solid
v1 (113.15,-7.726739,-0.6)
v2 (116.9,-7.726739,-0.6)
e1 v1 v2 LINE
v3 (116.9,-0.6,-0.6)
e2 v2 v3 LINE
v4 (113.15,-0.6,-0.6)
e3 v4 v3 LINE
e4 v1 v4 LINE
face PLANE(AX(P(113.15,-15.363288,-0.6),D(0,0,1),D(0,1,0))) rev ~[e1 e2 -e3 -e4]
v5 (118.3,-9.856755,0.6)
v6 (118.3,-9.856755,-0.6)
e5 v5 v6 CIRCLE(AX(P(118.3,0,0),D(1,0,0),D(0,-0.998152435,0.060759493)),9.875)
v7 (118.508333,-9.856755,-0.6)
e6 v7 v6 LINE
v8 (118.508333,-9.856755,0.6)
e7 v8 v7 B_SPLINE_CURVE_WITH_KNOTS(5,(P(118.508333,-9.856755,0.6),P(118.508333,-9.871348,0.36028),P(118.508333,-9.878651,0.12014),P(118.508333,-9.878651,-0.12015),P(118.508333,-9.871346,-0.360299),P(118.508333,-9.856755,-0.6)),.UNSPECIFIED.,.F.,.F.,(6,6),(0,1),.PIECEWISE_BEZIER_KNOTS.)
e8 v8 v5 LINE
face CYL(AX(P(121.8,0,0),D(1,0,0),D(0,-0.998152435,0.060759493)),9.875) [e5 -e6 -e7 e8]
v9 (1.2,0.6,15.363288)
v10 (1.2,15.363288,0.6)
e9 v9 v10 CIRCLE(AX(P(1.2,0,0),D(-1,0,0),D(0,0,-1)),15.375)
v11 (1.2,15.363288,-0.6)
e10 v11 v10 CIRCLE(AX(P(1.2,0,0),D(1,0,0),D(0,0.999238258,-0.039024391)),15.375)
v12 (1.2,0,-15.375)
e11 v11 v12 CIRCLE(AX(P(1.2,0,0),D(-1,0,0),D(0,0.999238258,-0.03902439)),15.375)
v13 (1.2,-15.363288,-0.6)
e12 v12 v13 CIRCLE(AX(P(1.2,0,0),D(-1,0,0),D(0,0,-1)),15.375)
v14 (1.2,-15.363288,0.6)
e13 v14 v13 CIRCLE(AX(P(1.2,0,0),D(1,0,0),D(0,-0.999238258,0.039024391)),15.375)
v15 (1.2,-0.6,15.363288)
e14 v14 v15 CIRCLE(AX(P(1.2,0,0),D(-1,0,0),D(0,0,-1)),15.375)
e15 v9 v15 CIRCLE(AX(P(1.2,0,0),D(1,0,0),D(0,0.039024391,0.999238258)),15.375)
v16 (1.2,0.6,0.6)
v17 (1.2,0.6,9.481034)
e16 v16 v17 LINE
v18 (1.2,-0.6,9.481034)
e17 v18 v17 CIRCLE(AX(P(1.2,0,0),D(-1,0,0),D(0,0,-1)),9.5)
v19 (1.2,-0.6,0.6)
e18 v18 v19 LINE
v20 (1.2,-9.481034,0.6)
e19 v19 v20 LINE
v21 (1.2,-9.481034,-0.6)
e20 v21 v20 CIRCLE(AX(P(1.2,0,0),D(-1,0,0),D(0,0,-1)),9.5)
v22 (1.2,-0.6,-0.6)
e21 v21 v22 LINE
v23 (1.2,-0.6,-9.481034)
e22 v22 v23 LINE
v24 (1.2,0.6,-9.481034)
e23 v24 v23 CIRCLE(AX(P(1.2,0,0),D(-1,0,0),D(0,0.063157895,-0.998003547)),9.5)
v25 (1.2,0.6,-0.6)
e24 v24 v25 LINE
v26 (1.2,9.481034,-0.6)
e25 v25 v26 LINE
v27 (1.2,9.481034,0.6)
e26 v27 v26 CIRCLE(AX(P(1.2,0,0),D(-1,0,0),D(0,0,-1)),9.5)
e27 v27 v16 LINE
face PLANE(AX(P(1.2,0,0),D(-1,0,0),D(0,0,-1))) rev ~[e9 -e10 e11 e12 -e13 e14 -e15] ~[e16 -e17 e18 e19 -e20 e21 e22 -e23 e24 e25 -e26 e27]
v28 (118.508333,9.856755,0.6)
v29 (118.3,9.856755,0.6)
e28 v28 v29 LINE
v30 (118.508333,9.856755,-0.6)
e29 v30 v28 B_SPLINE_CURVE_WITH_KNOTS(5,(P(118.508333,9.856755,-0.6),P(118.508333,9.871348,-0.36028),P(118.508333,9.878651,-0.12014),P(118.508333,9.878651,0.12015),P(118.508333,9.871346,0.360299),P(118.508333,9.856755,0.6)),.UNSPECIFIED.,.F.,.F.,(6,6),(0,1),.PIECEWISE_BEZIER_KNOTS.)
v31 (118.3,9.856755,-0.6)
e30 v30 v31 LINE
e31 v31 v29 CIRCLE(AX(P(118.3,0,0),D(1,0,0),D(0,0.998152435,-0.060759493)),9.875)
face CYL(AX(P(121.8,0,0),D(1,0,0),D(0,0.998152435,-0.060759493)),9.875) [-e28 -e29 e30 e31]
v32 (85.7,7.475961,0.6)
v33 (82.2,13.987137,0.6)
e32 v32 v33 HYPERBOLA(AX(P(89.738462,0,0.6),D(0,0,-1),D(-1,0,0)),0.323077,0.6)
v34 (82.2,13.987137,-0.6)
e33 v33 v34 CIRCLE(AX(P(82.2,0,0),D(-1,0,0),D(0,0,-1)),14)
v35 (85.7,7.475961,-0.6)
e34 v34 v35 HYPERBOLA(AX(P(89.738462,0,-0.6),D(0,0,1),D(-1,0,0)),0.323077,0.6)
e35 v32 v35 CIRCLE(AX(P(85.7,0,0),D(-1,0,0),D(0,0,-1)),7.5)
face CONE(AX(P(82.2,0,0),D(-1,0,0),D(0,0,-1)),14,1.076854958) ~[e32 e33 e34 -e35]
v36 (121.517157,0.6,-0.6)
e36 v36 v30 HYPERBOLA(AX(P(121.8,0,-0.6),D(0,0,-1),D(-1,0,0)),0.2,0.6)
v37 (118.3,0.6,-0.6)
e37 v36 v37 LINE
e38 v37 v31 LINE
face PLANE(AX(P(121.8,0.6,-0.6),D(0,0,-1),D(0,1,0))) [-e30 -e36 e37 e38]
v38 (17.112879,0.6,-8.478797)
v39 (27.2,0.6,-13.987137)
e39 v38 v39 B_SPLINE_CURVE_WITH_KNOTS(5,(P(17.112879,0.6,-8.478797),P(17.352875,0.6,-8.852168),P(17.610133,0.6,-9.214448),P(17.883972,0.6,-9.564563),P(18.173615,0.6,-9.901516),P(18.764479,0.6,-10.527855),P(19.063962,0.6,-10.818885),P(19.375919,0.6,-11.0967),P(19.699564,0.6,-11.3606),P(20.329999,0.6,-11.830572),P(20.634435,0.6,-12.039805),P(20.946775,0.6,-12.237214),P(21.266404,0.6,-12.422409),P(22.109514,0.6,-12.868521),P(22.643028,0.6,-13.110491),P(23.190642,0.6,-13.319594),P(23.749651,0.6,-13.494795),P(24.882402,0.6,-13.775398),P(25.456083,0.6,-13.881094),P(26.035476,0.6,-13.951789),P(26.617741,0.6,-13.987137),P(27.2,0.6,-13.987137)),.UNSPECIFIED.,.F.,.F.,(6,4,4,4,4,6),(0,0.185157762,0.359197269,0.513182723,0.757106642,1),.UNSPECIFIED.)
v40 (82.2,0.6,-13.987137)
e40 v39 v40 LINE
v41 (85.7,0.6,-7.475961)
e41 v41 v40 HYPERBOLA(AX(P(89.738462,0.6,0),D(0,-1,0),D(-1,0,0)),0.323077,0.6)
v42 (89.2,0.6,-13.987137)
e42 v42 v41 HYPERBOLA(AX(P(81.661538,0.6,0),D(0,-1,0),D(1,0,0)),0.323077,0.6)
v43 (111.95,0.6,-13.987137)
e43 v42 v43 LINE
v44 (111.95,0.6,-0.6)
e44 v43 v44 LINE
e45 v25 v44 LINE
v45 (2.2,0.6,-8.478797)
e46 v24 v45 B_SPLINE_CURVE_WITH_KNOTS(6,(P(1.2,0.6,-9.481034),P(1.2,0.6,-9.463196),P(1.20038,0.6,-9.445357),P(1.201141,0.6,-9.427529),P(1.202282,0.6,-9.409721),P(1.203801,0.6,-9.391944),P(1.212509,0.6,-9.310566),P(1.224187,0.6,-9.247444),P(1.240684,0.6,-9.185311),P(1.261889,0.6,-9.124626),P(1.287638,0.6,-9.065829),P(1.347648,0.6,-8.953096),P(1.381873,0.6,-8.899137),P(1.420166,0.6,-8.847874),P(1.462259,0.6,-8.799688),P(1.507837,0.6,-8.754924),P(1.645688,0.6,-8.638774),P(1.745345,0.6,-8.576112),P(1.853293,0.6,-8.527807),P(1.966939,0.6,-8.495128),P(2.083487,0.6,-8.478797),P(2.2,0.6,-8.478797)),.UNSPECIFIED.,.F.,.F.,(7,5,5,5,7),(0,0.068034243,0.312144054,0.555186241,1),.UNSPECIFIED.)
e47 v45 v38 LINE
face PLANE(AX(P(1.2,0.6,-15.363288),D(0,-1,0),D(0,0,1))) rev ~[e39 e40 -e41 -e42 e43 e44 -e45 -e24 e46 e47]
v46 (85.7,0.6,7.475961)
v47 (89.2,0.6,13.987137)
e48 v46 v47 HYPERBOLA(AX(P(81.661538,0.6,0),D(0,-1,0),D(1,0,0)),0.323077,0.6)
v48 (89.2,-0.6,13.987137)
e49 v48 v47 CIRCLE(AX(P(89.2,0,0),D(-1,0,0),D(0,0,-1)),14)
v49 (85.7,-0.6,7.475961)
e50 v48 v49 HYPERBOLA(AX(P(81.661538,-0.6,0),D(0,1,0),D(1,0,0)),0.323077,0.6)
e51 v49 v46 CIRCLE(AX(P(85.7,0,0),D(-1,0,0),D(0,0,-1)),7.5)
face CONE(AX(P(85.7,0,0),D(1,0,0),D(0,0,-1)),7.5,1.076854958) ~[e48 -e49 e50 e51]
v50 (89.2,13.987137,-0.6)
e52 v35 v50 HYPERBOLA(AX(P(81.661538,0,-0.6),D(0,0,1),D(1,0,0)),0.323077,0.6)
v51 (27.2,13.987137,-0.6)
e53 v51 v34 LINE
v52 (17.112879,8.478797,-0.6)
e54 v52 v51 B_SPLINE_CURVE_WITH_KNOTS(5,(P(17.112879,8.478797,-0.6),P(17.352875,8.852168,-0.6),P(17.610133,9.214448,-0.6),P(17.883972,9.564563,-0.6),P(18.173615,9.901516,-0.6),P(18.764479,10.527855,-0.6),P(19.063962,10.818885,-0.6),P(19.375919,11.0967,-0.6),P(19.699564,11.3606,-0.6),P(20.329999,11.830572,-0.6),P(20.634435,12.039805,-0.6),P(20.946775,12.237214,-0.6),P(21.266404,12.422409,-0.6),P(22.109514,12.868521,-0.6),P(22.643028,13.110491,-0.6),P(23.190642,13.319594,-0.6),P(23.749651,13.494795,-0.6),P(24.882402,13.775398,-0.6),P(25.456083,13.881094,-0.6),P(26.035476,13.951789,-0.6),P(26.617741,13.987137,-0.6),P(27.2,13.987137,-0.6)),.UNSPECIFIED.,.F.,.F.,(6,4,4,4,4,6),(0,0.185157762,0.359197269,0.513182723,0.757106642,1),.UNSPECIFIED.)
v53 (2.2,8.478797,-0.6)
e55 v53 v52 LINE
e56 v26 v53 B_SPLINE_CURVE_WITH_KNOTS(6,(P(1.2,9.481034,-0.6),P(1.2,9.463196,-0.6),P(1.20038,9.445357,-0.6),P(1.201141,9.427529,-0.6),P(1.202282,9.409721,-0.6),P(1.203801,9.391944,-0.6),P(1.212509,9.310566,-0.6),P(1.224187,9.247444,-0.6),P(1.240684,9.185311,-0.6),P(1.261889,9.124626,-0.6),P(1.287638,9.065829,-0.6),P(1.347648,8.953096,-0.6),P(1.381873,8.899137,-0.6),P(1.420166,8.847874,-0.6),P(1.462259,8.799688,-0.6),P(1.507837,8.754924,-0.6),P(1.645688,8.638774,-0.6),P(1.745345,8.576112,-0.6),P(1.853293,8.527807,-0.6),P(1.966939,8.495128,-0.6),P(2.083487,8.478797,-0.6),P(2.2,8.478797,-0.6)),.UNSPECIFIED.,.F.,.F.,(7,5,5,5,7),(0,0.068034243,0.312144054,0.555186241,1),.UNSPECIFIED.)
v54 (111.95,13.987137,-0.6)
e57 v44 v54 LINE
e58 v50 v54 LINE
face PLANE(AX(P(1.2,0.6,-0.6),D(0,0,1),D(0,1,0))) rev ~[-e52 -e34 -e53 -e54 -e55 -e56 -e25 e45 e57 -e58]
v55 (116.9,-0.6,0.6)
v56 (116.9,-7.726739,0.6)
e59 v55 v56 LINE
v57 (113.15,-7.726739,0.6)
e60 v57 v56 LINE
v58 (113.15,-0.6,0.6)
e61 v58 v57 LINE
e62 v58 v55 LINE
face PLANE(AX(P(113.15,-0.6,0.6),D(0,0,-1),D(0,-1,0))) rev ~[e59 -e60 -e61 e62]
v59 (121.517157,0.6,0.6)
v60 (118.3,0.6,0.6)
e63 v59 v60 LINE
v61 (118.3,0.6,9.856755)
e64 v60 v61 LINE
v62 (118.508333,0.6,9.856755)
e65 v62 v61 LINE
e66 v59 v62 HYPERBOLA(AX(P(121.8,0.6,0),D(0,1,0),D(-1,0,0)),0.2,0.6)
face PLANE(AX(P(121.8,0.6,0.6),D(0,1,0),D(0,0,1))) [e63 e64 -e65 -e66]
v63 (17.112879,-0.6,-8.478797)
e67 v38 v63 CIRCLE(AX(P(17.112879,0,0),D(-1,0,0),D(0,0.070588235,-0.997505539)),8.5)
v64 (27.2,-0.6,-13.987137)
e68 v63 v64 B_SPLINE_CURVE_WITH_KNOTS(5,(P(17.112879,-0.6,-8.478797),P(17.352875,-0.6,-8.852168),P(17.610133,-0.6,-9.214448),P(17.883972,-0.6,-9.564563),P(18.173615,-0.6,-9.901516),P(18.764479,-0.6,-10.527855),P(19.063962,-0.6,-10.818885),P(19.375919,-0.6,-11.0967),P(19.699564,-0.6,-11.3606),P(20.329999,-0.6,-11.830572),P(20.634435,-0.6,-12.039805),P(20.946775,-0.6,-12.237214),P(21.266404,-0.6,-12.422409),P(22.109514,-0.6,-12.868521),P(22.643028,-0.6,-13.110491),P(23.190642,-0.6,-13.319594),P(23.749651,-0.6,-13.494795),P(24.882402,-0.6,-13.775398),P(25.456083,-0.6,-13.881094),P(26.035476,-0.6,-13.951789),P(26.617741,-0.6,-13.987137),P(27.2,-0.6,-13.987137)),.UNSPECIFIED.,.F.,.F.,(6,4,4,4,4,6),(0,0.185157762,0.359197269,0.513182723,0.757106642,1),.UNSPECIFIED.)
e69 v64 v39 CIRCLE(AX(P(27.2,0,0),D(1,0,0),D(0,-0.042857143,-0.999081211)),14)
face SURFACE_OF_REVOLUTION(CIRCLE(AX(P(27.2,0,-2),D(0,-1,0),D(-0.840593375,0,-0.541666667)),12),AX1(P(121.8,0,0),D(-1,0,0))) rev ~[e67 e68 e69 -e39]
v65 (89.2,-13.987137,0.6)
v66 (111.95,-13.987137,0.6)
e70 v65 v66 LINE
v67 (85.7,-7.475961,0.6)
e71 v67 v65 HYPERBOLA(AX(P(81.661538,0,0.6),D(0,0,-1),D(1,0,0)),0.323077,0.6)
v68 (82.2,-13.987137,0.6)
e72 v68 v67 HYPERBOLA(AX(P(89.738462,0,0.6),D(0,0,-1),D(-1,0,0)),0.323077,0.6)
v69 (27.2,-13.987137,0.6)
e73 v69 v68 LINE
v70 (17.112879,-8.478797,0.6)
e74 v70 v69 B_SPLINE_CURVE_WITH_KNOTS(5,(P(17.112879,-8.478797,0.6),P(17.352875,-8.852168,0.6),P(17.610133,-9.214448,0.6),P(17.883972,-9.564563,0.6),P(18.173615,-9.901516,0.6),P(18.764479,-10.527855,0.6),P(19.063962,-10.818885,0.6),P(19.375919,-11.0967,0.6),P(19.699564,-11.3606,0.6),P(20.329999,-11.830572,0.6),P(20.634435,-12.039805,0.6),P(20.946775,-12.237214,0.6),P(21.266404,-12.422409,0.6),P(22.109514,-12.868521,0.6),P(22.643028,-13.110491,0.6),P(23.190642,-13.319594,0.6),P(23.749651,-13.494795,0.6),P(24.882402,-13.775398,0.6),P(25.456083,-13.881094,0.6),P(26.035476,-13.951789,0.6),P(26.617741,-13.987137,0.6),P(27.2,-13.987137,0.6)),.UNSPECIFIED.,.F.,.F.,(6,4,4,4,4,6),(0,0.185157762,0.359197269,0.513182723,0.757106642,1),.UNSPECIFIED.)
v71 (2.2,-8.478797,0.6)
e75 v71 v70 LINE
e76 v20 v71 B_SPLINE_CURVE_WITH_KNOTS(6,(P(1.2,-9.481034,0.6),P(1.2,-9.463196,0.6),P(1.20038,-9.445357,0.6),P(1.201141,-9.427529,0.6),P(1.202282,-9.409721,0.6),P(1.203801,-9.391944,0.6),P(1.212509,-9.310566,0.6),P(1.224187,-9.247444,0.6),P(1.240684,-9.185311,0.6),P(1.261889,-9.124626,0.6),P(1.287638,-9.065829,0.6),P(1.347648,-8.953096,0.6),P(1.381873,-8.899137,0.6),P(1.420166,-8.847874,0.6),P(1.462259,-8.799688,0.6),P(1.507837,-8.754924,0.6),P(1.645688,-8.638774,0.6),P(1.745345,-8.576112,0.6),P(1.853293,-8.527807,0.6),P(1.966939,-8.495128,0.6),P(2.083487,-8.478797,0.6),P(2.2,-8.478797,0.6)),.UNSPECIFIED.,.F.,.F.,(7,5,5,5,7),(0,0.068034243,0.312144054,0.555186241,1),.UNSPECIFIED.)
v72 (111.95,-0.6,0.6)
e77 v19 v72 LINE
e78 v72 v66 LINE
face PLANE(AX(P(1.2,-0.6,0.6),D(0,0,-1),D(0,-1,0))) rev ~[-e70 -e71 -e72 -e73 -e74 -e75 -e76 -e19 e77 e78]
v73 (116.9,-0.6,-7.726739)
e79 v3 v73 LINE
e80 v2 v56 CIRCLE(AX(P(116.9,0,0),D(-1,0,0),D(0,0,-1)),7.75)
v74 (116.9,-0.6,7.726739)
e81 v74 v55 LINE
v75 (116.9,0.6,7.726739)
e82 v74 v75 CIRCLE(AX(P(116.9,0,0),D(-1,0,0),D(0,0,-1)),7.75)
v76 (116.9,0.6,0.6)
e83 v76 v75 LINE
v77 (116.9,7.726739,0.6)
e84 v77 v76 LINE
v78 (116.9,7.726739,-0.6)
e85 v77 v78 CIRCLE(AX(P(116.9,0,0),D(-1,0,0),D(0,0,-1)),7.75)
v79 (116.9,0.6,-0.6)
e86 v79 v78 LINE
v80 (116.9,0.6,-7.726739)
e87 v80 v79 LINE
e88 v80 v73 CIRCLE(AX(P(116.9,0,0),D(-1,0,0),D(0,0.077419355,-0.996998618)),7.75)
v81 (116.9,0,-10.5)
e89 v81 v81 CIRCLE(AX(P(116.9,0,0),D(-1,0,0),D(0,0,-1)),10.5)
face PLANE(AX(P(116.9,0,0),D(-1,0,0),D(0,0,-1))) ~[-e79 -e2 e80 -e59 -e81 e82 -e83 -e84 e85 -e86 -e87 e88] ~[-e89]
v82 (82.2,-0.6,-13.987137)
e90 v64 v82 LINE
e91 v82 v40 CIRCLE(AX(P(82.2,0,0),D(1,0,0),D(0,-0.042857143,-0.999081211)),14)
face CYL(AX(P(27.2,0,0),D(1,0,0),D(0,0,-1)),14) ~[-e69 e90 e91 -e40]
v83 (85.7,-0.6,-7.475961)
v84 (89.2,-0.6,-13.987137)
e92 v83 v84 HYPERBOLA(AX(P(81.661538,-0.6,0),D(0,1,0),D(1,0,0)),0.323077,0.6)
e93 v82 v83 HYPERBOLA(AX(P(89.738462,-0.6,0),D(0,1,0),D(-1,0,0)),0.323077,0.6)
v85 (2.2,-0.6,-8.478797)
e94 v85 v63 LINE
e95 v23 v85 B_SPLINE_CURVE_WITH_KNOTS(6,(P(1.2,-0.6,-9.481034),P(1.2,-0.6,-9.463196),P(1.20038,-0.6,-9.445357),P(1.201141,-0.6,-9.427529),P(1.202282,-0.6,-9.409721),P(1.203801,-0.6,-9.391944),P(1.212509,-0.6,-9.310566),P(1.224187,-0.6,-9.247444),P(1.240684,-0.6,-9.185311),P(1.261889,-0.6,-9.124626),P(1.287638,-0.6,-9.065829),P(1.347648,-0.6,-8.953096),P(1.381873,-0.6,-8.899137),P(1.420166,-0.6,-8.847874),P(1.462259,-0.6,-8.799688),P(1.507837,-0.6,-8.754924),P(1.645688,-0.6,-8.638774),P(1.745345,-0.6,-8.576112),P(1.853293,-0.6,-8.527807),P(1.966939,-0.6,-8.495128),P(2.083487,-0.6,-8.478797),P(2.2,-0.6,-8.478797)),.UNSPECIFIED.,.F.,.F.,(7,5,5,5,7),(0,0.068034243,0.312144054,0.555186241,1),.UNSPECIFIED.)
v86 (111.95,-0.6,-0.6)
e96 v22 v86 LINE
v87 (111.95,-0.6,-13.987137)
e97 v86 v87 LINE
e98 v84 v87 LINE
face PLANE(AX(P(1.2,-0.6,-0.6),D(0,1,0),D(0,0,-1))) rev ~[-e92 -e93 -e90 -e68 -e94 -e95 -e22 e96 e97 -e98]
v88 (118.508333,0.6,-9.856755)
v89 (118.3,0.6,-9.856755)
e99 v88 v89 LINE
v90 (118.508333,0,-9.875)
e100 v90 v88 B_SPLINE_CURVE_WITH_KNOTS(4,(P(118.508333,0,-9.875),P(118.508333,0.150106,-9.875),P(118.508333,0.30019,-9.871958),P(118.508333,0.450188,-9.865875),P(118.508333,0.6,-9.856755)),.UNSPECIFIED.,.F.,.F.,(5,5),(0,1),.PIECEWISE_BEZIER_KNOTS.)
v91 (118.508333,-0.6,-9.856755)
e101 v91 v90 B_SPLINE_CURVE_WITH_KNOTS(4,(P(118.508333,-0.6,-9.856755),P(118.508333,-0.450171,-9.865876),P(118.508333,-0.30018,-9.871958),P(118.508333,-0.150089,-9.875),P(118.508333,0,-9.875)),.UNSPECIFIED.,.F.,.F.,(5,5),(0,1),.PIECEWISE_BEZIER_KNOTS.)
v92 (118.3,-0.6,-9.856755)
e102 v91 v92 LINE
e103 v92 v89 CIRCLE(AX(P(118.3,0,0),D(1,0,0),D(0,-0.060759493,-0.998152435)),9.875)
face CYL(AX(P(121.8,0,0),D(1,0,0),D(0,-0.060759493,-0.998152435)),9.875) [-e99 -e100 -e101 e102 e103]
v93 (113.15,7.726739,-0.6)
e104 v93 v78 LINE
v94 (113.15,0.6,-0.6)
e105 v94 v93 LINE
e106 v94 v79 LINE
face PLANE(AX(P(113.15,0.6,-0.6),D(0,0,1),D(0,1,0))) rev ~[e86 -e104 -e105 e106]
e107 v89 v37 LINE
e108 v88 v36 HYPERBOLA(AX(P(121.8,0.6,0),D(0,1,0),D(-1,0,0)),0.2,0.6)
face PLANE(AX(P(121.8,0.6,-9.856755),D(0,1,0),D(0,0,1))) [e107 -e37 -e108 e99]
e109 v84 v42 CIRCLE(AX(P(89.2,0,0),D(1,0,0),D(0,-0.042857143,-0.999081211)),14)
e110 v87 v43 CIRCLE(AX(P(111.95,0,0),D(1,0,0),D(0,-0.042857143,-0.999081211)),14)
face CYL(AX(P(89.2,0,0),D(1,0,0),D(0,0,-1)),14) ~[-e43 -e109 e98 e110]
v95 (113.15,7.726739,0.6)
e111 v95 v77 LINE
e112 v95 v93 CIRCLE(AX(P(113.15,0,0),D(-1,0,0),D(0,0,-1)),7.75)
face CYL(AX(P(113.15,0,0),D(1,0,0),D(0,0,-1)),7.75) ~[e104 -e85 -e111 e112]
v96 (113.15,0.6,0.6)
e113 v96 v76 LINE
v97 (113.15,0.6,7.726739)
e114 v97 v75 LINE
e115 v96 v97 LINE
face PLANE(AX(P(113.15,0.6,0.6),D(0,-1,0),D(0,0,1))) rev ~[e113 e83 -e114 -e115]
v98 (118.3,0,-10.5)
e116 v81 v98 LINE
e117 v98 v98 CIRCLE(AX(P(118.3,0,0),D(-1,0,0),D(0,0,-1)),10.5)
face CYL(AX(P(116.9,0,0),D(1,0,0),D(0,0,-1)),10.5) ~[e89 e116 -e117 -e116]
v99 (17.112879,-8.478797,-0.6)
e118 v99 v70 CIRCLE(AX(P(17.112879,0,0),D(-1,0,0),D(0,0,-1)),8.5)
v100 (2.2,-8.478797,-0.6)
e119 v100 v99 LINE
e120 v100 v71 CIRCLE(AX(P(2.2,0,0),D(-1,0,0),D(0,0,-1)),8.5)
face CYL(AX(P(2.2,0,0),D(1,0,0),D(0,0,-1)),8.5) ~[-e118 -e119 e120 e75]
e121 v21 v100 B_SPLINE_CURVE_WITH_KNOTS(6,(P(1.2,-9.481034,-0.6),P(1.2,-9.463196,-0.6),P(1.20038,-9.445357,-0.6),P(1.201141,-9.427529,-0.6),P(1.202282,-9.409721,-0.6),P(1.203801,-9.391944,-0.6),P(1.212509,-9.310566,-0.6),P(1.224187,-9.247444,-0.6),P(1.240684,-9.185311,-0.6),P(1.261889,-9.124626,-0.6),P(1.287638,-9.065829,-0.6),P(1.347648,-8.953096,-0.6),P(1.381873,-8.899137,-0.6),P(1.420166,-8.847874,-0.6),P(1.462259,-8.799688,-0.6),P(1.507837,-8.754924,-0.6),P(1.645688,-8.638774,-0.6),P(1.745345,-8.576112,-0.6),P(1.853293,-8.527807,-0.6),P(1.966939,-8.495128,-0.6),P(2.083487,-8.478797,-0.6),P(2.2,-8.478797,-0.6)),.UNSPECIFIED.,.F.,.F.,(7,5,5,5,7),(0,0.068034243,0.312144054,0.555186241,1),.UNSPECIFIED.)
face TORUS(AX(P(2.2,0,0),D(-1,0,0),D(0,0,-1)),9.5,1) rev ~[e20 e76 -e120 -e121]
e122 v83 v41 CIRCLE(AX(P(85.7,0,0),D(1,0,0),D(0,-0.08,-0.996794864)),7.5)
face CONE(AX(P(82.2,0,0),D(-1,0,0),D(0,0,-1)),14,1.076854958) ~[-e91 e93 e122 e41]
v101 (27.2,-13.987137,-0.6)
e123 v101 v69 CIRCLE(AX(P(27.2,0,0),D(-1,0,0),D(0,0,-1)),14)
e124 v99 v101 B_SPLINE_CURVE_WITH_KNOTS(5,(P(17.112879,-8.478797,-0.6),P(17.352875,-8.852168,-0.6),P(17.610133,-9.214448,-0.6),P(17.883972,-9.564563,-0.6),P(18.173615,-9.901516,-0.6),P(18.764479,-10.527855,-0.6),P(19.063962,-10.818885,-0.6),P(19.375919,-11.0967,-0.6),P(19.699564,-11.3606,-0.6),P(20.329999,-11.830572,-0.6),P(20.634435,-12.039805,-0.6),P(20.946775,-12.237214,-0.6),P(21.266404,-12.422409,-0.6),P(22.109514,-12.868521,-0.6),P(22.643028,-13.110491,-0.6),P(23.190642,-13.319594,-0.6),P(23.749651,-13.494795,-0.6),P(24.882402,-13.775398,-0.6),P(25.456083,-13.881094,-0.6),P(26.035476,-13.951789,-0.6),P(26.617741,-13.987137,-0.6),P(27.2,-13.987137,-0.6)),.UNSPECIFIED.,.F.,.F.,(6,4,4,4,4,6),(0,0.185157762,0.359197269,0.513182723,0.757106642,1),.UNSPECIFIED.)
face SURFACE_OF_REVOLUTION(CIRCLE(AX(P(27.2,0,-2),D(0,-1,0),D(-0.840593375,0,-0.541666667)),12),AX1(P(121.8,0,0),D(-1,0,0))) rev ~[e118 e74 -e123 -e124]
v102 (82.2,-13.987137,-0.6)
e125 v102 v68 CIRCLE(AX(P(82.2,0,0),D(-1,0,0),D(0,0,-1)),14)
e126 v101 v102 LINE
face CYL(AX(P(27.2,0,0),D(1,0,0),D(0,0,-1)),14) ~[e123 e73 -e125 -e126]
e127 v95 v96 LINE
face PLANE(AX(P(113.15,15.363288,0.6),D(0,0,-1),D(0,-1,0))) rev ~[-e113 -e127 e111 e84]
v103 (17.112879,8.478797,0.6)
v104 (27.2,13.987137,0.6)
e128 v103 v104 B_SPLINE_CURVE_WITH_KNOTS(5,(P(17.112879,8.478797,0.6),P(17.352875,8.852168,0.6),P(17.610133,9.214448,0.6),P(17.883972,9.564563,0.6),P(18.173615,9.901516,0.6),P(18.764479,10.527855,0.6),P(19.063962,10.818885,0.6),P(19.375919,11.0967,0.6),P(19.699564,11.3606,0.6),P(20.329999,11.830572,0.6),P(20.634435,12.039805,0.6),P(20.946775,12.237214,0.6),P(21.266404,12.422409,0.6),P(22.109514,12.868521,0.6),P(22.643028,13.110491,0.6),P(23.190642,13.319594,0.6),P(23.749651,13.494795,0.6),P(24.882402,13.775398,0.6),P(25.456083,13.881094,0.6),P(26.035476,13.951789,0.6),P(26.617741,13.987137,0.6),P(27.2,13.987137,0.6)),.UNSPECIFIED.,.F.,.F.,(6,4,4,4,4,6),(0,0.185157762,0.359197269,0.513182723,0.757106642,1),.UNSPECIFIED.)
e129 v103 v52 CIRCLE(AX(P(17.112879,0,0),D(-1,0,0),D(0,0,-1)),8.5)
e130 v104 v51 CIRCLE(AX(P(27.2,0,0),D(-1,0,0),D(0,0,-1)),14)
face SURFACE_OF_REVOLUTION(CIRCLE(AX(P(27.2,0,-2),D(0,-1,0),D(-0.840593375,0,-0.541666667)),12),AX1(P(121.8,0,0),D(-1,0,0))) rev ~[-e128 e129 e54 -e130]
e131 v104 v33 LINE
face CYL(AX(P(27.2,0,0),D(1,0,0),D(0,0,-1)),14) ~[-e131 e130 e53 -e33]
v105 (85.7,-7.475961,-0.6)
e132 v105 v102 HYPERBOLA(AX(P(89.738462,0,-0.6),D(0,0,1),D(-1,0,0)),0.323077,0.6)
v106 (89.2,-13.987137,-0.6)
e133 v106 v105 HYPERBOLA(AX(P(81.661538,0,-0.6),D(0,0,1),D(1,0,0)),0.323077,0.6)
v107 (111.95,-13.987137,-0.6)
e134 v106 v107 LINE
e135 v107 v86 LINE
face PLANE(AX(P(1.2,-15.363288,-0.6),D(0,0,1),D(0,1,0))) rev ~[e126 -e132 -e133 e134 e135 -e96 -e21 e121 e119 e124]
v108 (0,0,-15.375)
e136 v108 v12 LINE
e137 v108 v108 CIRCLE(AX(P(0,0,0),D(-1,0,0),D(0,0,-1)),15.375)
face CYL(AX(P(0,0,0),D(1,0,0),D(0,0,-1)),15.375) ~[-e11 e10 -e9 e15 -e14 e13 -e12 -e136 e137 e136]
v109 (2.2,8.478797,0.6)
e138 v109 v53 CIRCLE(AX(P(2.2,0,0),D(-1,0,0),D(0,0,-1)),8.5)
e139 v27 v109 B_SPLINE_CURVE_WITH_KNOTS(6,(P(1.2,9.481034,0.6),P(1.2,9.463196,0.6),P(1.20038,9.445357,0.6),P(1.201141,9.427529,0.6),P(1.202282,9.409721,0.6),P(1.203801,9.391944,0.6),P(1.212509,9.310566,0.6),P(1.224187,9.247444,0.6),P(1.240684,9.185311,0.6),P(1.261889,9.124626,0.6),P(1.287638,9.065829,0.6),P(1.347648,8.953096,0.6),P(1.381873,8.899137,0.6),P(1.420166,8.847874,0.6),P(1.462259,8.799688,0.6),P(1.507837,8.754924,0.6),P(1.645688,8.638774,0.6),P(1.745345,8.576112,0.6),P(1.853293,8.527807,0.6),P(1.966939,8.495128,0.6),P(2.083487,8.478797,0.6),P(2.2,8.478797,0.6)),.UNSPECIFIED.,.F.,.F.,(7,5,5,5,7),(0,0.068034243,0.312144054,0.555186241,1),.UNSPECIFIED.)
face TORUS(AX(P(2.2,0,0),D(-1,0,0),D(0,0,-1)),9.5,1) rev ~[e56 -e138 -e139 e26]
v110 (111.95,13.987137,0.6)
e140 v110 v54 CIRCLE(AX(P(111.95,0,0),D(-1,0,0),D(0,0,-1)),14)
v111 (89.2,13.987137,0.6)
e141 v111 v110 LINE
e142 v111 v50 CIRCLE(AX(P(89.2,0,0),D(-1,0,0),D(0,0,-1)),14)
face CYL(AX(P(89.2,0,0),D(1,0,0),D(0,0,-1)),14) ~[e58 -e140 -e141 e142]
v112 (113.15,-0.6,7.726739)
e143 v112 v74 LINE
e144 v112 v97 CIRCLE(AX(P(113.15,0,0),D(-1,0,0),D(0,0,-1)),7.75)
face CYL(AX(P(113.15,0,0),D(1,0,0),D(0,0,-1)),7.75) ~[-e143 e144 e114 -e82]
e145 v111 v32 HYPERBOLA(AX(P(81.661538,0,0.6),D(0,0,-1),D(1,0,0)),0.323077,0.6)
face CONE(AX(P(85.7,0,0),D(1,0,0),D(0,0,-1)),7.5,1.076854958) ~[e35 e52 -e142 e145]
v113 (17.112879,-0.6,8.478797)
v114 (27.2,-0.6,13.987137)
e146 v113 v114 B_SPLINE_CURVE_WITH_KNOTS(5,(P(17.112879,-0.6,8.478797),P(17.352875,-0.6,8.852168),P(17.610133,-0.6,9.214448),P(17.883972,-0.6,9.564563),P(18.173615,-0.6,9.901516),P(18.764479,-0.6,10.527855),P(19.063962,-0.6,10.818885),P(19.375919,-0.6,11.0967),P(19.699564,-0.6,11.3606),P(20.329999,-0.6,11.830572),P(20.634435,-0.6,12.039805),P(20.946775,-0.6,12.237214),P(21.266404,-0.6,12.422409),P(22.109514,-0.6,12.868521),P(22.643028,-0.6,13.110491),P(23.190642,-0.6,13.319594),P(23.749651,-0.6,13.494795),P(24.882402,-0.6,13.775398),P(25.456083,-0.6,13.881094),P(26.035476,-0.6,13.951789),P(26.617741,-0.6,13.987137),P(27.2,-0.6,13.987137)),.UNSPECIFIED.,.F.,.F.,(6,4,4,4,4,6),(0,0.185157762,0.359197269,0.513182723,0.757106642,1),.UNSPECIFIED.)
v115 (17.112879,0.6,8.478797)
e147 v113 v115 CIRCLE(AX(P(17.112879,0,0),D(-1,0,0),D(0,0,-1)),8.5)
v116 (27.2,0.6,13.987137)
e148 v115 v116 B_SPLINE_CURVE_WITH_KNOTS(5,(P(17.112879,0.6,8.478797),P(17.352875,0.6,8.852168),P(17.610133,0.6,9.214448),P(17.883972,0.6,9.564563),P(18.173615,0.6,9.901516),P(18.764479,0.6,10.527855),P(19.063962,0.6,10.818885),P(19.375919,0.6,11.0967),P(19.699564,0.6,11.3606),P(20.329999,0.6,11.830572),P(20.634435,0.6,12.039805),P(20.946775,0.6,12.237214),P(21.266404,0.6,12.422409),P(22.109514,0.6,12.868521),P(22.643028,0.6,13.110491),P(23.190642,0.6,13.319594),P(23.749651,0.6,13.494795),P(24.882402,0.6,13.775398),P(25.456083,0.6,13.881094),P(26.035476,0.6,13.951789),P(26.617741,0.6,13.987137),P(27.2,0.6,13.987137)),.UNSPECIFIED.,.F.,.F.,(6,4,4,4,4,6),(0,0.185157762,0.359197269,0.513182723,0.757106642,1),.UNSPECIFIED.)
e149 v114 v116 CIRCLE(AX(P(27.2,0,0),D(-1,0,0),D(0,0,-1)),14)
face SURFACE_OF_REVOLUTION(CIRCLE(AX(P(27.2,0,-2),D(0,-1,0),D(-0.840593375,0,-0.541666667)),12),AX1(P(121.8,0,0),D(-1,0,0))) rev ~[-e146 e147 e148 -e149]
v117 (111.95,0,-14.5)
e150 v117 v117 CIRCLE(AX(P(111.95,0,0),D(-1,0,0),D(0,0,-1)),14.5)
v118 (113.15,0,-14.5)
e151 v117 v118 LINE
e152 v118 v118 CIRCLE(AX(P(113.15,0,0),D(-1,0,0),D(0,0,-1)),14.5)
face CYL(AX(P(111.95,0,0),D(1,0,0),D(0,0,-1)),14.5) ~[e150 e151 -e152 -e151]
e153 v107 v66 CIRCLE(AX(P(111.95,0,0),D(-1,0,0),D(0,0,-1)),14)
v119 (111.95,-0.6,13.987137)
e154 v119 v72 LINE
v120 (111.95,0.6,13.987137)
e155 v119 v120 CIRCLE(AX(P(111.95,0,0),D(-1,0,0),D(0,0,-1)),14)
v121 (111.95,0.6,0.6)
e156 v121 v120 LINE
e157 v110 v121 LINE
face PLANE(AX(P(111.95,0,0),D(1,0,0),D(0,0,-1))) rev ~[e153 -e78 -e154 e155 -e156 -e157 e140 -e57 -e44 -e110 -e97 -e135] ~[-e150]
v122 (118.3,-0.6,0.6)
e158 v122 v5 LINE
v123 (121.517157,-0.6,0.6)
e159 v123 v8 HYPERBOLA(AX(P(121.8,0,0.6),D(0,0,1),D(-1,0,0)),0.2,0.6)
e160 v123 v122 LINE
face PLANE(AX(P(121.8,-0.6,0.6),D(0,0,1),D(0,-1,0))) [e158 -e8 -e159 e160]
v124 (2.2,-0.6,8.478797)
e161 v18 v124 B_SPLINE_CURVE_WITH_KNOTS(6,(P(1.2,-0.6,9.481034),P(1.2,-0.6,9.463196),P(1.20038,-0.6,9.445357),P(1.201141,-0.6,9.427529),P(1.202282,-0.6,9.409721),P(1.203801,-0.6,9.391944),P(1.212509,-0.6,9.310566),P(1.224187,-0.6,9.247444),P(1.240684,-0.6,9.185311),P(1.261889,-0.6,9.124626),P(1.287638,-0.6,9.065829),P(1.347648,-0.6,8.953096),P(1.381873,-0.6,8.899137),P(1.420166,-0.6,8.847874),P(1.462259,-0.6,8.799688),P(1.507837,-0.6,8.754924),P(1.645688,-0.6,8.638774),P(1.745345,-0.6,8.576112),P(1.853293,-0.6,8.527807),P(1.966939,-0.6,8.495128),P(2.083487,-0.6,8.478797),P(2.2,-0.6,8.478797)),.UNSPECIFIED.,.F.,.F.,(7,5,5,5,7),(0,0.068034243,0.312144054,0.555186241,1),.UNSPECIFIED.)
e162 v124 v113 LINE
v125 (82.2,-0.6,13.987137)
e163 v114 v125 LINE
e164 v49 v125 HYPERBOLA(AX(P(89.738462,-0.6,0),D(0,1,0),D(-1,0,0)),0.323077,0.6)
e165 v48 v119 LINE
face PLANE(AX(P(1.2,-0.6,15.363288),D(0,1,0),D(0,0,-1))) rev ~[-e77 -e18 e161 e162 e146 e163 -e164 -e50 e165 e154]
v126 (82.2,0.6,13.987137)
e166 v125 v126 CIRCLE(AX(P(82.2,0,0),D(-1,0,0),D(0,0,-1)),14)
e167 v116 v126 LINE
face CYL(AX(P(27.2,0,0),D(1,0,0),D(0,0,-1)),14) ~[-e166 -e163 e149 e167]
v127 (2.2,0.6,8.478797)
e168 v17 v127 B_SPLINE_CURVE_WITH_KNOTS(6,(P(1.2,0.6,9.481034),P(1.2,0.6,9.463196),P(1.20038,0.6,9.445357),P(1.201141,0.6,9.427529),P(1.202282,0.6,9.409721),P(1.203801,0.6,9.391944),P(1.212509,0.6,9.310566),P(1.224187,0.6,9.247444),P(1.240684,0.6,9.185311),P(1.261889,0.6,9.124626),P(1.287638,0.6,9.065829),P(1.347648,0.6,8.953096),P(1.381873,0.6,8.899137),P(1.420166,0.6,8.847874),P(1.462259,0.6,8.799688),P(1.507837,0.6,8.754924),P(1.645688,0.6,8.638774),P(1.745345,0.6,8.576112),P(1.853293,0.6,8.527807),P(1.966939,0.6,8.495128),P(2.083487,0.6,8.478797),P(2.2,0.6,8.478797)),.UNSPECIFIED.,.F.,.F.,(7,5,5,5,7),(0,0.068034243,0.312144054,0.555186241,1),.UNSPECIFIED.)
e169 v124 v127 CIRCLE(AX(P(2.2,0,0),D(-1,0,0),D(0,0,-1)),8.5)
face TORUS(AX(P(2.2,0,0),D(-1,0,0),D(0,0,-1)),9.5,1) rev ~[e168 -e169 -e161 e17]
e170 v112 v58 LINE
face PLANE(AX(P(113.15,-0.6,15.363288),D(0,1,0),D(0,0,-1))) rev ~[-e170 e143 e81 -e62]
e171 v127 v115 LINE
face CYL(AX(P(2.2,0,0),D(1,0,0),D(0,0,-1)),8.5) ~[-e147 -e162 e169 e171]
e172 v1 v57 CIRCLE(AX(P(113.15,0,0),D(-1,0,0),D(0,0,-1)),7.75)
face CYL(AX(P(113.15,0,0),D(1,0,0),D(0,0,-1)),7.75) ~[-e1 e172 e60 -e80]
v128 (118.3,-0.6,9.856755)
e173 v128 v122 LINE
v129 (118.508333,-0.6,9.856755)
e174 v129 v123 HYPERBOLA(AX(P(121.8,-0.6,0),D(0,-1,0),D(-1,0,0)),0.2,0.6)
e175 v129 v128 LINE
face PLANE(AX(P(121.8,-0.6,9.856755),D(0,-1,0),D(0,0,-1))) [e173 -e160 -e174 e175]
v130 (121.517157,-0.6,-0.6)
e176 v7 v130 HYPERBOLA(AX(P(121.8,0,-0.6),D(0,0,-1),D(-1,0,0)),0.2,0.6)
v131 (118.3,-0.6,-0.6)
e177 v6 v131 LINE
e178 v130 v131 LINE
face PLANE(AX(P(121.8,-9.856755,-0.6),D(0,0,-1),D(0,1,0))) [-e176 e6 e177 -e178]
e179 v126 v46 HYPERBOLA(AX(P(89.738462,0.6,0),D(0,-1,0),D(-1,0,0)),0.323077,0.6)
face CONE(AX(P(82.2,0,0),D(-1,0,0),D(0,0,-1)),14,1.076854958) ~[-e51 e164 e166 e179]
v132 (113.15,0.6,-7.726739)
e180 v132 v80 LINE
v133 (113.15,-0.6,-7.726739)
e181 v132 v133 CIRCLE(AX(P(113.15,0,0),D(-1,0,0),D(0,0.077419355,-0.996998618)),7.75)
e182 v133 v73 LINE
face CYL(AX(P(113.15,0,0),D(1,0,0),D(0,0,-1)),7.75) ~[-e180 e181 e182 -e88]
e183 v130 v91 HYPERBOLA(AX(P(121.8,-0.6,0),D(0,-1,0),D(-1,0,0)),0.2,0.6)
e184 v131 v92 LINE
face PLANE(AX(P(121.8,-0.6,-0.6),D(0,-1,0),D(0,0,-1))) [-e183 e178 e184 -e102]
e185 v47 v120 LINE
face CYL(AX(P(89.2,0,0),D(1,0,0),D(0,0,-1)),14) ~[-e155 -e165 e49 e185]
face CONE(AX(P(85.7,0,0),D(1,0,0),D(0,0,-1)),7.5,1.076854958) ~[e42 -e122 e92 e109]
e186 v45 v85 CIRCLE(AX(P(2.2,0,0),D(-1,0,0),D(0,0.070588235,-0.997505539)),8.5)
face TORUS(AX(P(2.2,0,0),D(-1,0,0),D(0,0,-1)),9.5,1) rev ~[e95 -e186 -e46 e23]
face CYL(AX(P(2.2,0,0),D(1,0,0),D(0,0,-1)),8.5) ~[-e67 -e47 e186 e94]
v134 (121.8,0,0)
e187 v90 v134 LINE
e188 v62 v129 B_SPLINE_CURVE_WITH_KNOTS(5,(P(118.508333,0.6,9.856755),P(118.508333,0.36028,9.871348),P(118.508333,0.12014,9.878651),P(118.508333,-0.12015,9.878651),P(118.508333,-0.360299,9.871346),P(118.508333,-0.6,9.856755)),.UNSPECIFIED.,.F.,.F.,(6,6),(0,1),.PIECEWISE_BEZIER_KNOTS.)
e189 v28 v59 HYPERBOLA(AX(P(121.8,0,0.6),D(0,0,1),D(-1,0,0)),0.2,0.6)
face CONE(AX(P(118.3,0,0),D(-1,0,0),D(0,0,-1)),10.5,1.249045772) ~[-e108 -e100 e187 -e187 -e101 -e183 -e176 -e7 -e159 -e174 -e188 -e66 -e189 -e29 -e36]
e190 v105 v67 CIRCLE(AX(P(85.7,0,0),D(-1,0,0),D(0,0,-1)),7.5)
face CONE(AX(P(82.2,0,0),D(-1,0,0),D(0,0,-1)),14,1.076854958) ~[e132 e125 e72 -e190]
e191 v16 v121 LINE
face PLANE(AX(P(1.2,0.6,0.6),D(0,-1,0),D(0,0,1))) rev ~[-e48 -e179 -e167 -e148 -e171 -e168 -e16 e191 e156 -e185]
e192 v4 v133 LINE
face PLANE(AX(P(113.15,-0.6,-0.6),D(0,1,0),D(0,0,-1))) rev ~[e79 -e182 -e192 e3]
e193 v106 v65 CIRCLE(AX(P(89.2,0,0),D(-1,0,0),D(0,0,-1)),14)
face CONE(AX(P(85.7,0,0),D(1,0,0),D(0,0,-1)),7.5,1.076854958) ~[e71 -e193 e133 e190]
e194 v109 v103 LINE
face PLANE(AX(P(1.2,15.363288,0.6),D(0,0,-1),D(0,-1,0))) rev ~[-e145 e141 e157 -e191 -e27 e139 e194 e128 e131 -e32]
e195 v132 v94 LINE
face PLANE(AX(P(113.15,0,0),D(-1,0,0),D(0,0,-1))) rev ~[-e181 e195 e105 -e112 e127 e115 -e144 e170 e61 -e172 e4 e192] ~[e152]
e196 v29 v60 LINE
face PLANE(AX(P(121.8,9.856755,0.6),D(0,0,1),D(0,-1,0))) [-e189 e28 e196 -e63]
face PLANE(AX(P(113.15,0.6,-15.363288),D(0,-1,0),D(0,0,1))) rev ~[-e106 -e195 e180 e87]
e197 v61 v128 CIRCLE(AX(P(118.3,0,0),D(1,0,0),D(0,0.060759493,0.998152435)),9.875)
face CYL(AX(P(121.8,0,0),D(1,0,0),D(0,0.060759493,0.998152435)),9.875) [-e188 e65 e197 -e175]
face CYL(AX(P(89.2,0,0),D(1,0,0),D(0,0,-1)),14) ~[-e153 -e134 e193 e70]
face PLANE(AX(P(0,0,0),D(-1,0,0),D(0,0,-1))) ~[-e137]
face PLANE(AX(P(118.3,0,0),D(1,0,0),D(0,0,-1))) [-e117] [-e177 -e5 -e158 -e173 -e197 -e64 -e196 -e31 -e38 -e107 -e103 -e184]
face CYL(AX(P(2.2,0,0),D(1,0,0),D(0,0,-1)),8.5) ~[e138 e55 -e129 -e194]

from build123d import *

# Parameters (mm, degrees)
SKETCH2_OUTSIDE_W  = 58.616
SKETCH2_OUTSIDE_H  = 58.616
CUT_EXTRUDE1_DEPTH = 110.75
SKETCH4_OUTSIDE_W  = 58.616
SKETCH4_OUTSIDE_H  = 58.616
CUT_EXTRUDE3_DEPTH = 3.75
SKETCH5_OUTSIDE_W  = 58.616
SKETCH5_OUTSIDE_H  = 58.616
CUT_EXTRUDE4_DEPTH = 3.5


with BuildPart() as part:
    # Sketch1 → Revolve1 (revolve)
    with BuildSketch(Plane.XY, mode=Mode.PRIVATE) as revolve1_sk:
        with BuildLine():
            Line((0, 0), (0, 15.375))
            Line((0, 15.375), (1.2, 15.375))
            Line((1.2, 15.375), (1.2, 9.5))
            ThreePointArc((1.2, 9.5), (1.492893219, 8.792893219), (2.2, 8.5))
            Line((2.2, 8.5), (17.112879499, 8.5))
            ThreePointArc((17.112879499, 8.5), (21.455437353, 12.535653753), (27.2, 14))
            Line((27.2, 14), (82.2, 14))
            Line((82.2, 14), (85.7, 7.5))
            Line((85.7, 7.5), (89.2, 14))
            Line((89.2, 14), (111.95, 14))
            Line((111.95, 14), (111.95, 14.5))
            Line((111.95, 14.5), (113.15, 14.5))
            Line((113.15, 14.5), (113.15, 7.75))
            Line((113.15, 7.75), (116.9, 7.75))
            Line((116.9, 7.75), (116.9, 10.5))
            Line((116.9, 10.5), (118.3, 10.5))
            Line((118.3, 10.5), (121.8, 0))
            Line((121.8, 0), (0, 0))
        make_face()
    revolve(revolve1_sk.sketch.rotate(Axis((121.8, 0, 0), (-1, 0, 0)), 90), axis=Axis((121.8, 0, 0), (-1, 0, 0)))

    # Sketch2 outside → Cut-Extrude1 (cut)
    with BuildSketch(Plane(origin=(1.2, 0, 0), x_dir=(0, 0, -1), z_dir=(1, 0, 0))):
        Rectangle(SKETCH2_OUTSIDE_W, SKETCH2_OUTSIDE_H)
        with BuildLine():
            Line((-0.6, 15.363288222), (-0.6, 0.6))
            Line((-0.6, 0.6), (-15.363288222, 0.6))
            ThreePointArc((-15.363288222, 0.6), (-15.375, 0), (-15.363288222, -0.6))
            Line((-15.363288222, -0.6), (-0.6, -0.6))
            Line((-0.6, -0.6), (-0.6, -15.363288222))
            ThreePointArc((-0.6, -15.363288222), (0, -15.375), (0.6, -15.363288222))
            Line((0.6, -15.363288222), (0.6, -0.6))
            Line((0.6, -0.6), (15.363288222, -0.6))
            ThreePointArc((15.363288222, -0.6), (15.375, 0), (15.363288222, 0.6))
            Line((15.363288222, 0.6), (0.6, 0.6))
            Line((0.6, 0.6), (0.6, 15.363288222))
            ThreePointArc((0.6, 15.363288222), (0, 15.375), (-0.6, 15.363288222))
        make_face(mode=Mode.SUBTRACT)
    extrude(amount=CUT_EXTRUDE1_DEPTH, mode=Mode.SUBTRACT)

    # Sketch4 outside → Cut-Extrude3 (cut)
    with BuildSketch(Plane(origin=(113.15, 0, 0), x_dir=(0, 0, -1), z_dir=(1, 0, 0))):
        Rectangle(SKETCH4_OUTSIDE_W, SKETCH4_OUTSIDE_H)
        with BuildLine():
            Line((0.6, 0.6), (0.6, 15.363288222))
            ThreePointArc((0.6, 15.363288222), (0, 15.375), (-0.6, 15.363288222))
            Line((-0.6, 15.363288222), (-0.6, 0.6))
            Line((-0.6, 0.6), (-15.363288222, 0.6))
            ThreePointArc((-15.363288222, 0.6), (-15.375, 0), (-15.363288222, -0.6))
            Line((-15.363288222, -0.6), (-0.6, -0.6))
            Line((-0.6, -0.6), (-0.6, -15.363288222))
            ThreePointArc((-0.6, -15.363288222), (0, -15.375), (0.6, -15.363288222))
            Line((0.6, -15.363288222), (0.6, -0.6))
            Line((0.6, -0.6), (15.363288222, -0.6))
            ThreePointArc((15.363288222, -0.6), (15.375, 0), (15.363288222, 0.6))
            Line((15.363288222, 0.6), (0.6, 0.6))
        make_face(mode=Mode.SUBTRACT)
    extrude(amount=CUT_EXTRUDE3_DEPTH, mode=Mode.SUBTRACT)

    # Sketch5 outside → Cut-Extrude4 (cut)
    with BuildSketch(Plane(origin=(121.8, 0, 0), x_dir=(0, 0, -1), z_dir=(1, 0, 0))):
        Rectangle(SKETCH5_OUTSIDE_W, SKETCH5_OUTSIDE_H)
        with BuildLine():
            Line((0.6, 0.6), (0.6, 9.856755298))
            ThreePointArc((0.6, 9.856755298), (0, 9.875), (-0.6, 9.856755298))
            Line((-0.6, 9.856755298), (-0.6, 0.6))
            Line((-0.6, 0.6), (-9.856755298, 0.6))
            ThreePointArc((-9.856755298, 0.6), (-9.875, 0), (-9.856755298, -0.6))
            Line((-9.856755298, -0.6), (-0.6, -0.6))
            Line((-0.6, -0.6), (-0.6, -9.856755298))
            ThreePointArc((-0.6, -9.856755298), (0, -9.875), (0.6, -9.856755298))
            Line((0.6, -9.856755298), (0.6, -0.6))
            Line((0.6, -0.6), (9.856755298, -0.6))
            ThreePointArc((9.856755298, -0.6), (9.875, 0), (9.856755298, 0.6))
            Line((9.856755298, 0.6), (0.6, 0.6))
        make_face(mode=Mode.SUBTRACT)
    extrude(amount=-CUT_EXTRUDE4_DEPTH, mode=Mode.SUBTRACT)


solid = part.part
